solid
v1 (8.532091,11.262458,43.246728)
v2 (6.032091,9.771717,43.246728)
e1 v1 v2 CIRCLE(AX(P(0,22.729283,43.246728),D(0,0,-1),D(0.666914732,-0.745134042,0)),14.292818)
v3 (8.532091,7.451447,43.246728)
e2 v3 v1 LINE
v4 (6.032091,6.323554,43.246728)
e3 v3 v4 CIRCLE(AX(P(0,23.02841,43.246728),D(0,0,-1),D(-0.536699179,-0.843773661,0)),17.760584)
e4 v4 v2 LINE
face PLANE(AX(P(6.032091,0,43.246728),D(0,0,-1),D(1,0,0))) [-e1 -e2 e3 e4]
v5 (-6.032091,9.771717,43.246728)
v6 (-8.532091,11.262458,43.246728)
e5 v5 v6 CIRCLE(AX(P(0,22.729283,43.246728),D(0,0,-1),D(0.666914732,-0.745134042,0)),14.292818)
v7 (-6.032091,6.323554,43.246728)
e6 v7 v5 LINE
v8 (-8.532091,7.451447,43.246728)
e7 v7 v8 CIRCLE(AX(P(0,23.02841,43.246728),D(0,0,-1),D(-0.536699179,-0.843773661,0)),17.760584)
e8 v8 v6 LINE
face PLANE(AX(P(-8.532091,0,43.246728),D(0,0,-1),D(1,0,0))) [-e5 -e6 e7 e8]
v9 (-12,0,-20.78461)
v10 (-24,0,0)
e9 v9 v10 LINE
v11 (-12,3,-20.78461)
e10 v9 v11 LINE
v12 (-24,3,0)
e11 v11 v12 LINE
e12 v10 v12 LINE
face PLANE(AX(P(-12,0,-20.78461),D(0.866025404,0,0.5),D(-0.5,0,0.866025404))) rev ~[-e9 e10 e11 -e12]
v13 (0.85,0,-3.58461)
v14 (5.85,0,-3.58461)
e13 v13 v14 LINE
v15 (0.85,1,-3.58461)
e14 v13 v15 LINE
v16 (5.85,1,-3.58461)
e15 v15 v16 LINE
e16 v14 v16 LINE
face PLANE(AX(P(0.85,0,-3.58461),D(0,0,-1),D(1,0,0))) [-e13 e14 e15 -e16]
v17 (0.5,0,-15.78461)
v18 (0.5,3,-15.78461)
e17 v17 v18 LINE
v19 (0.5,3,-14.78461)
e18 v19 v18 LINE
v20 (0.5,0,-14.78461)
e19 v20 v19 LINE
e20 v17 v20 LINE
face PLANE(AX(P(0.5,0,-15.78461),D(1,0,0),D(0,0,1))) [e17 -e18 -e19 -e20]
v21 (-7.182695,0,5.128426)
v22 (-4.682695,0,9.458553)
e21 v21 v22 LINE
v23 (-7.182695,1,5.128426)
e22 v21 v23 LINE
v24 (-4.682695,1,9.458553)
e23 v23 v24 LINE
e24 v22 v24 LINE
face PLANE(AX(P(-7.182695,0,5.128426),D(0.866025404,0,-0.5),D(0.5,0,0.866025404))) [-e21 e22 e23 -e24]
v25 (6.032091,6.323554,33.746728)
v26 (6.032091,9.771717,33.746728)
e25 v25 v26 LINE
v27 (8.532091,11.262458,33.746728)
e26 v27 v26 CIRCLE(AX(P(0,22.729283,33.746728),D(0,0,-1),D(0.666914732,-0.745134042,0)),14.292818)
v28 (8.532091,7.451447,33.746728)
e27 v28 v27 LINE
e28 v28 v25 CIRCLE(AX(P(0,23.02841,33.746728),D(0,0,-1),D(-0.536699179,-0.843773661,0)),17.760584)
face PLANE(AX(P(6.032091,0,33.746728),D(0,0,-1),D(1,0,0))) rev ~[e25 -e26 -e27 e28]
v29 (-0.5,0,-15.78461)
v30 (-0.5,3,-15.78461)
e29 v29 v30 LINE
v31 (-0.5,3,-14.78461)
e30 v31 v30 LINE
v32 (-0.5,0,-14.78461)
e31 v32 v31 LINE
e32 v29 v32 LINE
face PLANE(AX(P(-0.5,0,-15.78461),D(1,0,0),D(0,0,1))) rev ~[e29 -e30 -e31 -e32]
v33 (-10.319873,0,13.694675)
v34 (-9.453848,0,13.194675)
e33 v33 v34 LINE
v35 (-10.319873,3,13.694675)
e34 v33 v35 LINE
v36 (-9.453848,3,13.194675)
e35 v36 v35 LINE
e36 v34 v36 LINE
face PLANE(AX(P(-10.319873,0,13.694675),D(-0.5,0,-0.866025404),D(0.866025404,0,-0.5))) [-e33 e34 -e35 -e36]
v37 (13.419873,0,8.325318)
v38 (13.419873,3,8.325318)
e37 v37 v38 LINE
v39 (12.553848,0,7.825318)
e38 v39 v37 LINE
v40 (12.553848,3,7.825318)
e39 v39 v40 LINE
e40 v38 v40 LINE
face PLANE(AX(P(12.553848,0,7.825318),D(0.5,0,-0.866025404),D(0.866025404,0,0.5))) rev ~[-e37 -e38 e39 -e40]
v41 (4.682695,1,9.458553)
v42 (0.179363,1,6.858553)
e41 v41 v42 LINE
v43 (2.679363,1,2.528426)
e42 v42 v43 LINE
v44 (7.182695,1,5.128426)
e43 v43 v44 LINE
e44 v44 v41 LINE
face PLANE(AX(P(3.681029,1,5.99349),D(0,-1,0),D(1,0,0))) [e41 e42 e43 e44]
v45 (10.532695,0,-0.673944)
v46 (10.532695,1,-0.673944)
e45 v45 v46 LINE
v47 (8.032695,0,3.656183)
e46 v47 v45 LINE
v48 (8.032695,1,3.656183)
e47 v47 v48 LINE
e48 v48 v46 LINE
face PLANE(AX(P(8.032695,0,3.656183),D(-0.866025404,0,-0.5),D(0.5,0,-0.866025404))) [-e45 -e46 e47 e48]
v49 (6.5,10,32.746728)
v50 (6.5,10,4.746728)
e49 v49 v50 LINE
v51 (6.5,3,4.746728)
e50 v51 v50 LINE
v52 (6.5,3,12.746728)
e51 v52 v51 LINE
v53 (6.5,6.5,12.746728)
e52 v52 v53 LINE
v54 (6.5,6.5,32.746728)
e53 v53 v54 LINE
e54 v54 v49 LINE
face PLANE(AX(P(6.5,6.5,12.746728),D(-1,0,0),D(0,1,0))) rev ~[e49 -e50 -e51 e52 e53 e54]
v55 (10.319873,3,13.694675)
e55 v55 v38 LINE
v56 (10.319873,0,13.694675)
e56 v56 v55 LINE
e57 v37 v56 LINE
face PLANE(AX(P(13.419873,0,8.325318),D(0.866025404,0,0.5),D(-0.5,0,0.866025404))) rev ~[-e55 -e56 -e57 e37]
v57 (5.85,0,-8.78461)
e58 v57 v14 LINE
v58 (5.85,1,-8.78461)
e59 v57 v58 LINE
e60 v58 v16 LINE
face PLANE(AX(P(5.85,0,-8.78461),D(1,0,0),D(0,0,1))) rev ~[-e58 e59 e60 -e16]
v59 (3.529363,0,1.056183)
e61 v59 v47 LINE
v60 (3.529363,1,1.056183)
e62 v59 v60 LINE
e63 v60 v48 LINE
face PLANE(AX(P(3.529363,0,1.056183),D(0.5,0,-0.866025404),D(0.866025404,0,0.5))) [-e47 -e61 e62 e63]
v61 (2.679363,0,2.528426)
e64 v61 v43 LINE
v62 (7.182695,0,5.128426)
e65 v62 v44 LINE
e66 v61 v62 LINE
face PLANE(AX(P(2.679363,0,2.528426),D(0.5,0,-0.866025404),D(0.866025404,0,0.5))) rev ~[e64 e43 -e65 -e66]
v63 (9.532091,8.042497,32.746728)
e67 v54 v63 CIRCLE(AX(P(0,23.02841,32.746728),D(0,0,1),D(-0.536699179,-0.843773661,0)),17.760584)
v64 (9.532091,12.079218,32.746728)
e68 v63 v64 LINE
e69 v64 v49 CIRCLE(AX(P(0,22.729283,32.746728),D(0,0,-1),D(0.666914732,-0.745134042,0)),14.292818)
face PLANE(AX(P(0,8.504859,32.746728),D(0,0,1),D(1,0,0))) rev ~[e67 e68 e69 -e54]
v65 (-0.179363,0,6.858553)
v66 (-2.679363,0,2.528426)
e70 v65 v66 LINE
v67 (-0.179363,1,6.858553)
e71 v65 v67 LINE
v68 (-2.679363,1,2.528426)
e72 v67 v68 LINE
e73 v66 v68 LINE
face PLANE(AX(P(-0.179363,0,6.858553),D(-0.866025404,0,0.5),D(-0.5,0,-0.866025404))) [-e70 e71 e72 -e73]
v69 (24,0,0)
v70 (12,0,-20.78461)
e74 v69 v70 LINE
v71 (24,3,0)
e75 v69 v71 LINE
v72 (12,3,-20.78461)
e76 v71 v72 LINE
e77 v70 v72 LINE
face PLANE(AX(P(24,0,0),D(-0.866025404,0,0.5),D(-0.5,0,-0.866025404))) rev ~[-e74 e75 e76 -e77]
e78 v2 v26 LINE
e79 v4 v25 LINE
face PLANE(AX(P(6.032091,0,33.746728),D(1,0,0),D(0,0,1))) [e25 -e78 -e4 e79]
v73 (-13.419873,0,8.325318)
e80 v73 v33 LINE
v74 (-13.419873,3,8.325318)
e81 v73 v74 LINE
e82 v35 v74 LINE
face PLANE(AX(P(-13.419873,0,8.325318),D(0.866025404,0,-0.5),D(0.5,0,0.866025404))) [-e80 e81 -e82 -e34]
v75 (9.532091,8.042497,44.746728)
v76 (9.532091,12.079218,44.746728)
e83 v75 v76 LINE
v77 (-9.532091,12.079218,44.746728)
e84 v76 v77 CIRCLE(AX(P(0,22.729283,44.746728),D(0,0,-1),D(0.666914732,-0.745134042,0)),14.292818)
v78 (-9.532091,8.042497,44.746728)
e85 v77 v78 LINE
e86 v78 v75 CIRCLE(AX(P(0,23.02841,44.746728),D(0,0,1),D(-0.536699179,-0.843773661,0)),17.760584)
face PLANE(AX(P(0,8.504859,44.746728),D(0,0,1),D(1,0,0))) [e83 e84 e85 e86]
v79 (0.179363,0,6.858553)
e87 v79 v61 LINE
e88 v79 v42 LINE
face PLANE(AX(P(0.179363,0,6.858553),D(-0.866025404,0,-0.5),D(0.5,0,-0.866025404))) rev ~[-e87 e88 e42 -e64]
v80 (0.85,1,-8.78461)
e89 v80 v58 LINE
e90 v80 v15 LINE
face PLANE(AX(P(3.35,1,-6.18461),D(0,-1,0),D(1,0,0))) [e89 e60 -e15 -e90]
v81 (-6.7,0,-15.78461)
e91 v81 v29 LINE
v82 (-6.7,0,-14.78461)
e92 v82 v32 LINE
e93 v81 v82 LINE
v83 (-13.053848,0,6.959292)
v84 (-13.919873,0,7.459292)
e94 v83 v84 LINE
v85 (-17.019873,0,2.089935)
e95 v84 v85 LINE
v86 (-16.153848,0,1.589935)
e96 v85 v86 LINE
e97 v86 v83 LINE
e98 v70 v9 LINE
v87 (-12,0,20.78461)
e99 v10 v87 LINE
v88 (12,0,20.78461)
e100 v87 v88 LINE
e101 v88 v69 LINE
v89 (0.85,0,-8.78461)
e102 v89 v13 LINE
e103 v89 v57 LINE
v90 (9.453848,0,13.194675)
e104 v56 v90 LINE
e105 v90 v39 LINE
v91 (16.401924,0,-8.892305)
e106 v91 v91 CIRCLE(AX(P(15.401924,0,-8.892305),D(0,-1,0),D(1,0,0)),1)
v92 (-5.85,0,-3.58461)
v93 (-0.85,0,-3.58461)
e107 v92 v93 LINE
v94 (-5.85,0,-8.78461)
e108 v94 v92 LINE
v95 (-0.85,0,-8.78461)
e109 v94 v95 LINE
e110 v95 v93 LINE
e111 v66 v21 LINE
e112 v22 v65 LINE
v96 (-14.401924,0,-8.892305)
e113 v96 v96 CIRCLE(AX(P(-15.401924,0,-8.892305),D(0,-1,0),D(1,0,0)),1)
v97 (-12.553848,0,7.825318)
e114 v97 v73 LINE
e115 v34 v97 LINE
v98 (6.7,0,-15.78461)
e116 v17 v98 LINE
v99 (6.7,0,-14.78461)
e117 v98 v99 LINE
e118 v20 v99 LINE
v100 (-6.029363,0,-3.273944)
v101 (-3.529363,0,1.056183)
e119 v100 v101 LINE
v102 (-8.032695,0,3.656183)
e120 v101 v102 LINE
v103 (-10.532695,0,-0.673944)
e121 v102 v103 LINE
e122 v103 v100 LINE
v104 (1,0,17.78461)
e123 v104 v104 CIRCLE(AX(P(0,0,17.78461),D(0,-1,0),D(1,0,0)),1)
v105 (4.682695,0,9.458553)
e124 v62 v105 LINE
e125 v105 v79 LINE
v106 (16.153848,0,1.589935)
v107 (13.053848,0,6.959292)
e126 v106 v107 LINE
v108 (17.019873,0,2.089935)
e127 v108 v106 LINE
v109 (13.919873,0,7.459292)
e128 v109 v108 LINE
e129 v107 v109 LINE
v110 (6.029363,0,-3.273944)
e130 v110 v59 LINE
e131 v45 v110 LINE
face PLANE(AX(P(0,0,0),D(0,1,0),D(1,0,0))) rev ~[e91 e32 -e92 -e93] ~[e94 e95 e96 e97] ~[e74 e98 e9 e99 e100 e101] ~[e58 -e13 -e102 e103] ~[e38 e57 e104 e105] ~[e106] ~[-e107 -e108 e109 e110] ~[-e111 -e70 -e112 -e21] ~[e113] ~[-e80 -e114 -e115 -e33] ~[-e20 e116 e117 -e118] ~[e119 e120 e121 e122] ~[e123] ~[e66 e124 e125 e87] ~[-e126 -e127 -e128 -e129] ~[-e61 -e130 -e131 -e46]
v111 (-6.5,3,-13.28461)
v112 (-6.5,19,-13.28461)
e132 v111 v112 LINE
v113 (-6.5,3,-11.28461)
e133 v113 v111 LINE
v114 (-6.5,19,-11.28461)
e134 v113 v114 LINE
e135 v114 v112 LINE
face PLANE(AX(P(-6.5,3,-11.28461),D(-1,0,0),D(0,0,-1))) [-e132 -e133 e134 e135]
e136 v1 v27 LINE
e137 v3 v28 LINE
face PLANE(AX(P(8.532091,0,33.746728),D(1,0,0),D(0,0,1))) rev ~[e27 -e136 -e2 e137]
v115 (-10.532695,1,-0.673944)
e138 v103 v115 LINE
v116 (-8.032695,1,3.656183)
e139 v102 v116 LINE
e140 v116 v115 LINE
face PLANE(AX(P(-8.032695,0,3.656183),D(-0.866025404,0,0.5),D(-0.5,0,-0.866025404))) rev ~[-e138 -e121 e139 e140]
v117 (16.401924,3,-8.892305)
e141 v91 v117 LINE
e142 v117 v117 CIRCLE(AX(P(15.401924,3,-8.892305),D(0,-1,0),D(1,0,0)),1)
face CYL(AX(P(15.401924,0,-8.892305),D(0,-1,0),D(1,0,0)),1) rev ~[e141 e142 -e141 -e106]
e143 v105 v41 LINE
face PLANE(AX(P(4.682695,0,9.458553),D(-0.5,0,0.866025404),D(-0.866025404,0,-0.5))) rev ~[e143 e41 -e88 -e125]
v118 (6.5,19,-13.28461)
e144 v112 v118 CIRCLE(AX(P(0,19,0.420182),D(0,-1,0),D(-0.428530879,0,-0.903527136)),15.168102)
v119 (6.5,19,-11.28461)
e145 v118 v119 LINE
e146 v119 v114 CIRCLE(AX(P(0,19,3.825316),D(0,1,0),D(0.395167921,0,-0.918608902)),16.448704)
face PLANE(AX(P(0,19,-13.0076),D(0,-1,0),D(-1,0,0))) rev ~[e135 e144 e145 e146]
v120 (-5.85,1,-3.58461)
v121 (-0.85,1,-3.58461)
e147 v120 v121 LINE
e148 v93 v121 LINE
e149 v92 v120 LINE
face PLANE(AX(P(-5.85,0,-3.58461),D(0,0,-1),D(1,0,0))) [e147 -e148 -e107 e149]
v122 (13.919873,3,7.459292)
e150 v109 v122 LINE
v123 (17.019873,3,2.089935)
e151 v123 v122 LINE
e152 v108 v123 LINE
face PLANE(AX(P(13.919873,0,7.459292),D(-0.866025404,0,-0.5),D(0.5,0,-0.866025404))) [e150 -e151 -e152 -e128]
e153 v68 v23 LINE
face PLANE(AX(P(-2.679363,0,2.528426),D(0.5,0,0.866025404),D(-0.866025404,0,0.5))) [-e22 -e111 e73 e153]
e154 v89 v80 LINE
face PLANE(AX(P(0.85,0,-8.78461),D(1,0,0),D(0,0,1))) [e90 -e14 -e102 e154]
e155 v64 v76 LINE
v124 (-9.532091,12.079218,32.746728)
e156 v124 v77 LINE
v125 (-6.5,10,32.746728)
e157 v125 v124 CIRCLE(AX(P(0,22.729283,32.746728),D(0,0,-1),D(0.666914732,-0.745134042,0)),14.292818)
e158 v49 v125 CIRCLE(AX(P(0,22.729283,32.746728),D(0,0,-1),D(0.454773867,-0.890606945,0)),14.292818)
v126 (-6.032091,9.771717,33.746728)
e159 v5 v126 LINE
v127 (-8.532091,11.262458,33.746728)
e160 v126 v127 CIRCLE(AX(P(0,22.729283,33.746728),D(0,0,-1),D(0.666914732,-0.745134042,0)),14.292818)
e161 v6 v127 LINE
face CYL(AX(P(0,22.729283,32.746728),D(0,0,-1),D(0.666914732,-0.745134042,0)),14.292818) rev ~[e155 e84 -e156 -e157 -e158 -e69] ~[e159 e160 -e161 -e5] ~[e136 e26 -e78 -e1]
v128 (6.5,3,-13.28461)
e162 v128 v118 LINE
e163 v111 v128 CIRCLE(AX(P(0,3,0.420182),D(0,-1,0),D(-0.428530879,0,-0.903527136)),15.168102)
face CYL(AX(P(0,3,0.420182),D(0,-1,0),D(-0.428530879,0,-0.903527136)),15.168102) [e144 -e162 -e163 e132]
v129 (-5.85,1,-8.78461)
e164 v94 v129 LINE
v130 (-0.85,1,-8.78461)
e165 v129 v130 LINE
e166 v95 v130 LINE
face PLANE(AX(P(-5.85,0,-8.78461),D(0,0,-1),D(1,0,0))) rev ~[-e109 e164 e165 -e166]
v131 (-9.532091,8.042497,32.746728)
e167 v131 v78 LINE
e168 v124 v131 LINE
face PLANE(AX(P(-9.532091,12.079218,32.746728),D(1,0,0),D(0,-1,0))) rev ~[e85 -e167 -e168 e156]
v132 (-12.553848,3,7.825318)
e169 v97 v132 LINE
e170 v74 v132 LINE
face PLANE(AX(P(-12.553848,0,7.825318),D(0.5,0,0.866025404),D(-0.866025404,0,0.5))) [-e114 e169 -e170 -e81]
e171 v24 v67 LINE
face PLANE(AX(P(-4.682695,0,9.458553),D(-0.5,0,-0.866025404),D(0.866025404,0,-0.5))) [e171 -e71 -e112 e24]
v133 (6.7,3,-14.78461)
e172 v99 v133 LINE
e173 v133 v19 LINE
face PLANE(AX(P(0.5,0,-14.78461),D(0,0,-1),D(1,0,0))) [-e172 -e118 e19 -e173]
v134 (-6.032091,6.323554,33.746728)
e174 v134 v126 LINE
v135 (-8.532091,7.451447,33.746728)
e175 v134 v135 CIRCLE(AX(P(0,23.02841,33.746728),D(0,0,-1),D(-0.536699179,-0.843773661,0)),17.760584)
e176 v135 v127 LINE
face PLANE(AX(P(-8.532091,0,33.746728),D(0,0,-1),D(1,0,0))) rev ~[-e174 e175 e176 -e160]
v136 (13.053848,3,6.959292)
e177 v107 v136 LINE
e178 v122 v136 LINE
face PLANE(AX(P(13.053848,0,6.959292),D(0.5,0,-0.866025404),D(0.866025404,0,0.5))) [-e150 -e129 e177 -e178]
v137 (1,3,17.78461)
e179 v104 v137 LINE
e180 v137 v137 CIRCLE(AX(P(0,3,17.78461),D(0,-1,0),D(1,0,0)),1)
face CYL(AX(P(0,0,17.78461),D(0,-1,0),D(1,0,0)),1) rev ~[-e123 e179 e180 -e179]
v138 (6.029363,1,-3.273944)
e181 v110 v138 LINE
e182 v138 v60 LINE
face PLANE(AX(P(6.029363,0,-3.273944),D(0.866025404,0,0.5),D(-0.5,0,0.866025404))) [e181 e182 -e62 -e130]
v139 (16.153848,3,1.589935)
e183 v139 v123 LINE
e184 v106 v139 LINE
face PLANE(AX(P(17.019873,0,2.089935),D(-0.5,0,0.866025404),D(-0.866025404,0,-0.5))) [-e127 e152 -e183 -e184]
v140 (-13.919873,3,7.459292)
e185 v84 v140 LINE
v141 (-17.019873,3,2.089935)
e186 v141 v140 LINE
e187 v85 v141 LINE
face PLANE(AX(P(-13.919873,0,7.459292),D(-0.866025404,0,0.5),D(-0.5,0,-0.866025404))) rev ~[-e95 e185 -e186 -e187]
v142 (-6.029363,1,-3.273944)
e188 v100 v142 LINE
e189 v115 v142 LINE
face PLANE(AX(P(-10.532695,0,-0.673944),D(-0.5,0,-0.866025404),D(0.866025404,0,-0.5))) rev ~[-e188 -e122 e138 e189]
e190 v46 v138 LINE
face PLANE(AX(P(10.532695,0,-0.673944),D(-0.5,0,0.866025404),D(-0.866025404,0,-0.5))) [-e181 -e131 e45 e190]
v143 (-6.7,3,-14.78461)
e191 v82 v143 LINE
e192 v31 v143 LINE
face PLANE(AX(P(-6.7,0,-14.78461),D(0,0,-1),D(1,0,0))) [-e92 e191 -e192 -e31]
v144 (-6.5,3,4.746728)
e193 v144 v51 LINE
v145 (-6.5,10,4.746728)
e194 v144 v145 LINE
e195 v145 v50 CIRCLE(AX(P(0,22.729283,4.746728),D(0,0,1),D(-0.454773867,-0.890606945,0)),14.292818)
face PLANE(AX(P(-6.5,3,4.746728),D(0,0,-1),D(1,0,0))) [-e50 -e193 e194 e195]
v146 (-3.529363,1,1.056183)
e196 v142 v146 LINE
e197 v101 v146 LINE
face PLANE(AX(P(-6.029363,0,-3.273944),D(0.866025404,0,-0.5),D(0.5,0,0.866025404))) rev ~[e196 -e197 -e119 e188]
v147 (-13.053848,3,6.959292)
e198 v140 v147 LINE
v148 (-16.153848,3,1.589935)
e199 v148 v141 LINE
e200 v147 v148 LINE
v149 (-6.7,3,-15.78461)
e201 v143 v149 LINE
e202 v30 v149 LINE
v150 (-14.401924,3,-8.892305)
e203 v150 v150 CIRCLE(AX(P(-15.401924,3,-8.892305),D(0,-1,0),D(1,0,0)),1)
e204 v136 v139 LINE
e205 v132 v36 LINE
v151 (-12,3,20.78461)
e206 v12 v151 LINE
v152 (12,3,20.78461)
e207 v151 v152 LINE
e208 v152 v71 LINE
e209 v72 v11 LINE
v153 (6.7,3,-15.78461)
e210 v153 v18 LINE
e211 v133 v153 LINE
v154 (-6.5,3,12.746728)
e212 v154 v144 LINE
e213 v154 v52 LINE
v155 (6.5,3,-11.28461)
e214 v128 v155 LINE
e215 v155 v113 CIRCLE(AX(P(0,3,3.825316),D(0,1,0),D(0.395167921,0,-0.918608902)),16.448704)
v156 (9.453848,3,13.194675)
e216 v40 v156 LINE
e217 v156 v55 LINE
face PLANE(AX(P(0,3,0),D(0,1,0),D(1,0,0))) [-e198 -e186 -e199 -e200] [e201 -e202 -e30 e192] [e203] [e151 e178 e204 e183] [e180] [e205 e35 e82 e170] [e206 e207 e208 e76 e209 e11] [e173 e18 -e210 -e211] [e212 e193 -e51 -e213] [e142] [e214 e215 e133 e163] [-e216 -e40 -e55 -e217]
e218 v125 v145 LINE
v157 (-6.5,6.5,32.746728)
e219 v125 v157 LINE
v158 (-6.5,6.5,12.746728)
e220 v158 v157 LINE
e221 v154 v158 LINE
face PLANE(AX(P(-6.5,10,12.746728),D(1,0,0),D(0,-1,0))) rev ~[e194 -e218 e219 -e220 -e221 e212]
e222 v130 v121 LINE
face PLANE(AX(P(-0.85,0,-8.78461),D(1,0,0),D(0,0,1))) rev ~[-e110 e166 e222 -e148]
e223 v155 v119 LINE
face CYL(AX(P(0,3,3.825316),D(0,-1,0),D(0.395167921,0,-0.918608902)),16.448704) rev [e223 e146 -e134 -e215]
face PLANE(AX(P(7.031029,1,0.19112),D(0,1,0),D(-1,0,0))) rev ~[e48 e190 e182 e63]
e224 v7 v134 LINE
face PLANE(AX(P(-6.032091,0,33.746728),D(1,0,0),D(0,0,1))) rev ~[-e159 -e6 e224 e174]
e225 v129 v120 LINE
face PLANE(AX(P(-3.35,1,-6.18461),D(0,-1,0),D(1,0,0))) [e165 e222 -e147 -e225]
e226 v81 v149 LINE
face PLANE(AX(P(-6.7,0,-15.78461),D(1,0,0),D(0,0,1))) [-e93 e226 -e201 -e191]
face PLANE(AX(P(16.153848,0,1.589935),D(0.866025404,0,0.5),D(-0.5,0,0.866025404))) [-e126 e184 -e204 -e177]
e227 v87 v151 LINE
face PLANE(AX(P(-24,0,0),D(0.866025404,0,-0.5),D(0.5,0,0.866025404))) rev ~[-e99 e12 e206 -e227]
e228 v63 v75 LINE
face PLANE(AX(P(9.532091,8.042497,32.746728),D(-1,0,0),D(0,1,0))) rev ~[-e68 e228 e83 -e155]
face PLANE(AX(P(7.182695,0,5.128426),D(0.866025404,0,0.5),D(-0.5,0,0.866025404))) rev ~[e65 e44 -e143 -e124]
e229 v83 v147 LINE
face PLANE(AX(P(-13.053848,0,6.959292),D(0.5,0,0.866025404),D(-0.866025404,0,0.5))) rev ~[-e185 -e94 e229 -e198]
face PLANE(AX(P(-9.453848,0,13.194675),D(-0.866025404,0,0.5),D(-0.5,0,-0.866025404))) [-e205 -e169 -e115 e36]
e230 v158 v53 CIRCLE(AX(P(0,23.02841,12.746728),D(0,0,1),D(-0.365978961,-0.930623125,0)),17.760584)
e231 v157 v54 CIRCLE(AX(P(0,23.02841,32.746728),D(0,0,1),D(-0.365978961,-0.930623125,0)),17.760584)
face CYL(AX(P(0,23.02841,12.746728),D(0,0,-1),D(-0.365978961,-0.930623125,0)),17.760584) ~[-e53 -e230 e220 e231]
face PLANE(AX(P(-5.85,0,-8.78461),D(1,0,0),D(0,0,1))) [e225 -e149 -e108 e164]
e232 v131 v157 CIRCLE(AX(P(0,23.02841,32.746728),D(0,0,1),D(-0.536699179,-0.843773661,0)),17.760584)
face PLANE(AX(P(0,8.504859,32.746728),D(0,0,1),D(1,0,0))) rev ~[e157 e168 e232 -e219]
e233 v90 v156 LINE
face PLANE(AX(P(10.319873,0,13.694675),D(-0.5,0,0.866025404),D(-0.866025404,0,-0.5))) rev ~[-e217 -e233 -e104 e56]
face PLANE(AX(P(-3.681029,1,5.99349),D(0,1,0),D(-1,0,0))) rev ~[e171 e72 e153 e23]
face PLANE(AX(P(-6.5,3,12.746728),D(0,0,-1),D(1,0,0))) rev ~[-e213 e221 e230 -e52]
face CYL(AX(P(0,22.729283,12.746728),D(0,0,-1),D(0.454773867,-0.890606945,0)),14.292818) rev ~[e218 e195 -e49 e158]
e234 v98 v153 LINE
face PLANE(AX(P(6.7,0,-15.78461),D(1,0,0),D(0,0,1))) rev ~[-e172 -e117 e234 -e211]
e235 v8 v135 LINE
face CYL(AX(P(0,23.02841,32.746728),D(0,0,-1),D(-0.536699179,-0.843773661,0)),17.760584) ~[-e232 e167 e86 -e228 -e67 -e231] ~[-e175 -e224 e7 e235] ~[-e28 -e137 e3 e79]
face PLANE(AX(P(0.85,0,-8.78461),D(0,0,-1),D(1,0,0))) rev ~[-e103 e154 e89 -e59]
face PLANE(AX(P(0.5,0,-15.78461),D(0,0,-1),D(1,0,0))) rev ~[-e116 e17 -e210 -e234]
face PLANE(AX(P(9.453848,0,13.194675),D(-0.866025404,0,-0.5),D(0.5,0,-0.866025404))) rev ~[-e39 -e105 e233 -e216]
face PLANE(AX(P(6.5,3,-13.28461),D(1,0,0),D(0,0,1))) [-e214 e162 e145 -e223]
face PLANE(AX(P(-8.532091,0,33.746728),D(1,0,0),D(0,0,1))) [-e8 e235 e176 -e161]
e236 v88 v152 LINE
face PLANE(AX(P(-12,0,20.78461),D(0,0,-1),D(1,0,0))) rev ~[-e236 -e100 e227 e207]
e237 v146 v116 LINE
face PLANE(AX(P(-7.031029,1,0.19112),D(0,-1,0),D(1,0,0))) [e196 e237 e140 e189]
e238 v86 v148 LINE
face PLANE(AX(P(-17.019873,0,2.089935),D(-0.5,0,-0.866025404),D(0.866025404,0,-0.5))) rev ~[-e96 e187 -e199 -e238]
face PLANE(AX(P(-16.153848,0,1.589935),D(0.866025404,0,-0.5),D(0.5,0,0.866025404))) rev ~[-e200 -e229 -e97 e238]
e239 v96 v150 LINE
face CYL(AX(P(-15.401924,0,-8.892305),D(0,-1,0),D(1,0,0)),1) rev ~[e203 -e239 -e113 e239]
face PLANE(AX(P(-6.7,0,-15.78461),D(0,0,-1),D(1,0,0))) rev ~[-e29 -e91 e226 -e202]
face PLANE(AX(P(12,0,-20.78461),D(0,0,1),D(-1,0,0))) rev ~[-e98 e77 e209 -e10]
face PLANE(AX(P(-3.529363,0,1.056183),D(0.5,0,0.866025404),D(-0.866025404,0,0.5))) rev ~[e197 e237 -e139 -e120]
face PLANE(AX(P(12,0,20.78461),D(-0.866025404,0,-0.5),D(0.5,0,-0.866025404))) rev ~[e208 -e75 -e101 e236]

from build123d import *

# Parameters (mm, degrees)
EXTRUDE_1_DEPTH     = 3
SKETCH_4_W          = 13
SKETCH_4_H          = 8
EXTRUDE_2_DEPTH     = 7
EXTRUDE_6_DEPTH     = 20
CUT_EXTRUDE_3_DEPTH = 34.531337759
EXTRUDE_7_DEPTH     = 16
SKETCH_18_W         = 6.2
SKETCH_18_H         = 1
CUT_EXTRUDE_6_DEPTH = 20
SKETCH_19_R         = 1
CUT_EXTRUDE_7_DEPTH = 3
EXTRUDE_8_DEPTH     = 12
SKETCH_24_W         = 2.5
SKETCH_24_H         = 9.5
CUT_EXTRUDE_8_DEPTH = 20
SKETCH_25_W         = 5
SKETCH_25_H         = 5.2
CUT_EXTRUDE_9_DEPTH = 1


with BuildPart() as part:
    # 草图1 → 凸台-拉伸1 (new body)
    with BuildSketch(Plane(origin=(0, 0, 0), x_dir=(1, 0, 0), z_dir=(0, 1, 0))):
        Polygon((24, 0), (12, 20.784609691), (-12, 20.784609691), (-24, 0), (-12, -20.784609691), (12, -20.784609691), align=None)
    extrude(amount=EXTRUDE_1_DEPTH)

    # 草图4 → 凸台-拉伸2 (add)
    with BuildSketch(Plane(origin=(0, 3, 0), x_dir=(1, 0, 0), z_dir=(0, 1, 0))):
        with Locations((0, -8.746728068)):
            Rectangle(SKETCH_4_W, SKETCH_4_H)
    extrude(amount=EXTRUDE_2_DEPTH)

    # 草图14 → 凸台-拉伸6 (add)
    with BuildSketch(Plane.XY.offset(12.746728068)):
        with BuildLine():
            Line((-6.5, 10), (-6.5, 6.5))
            ThreePointArc((-6.5, 6.5), (0, 5.267826192), (6.5, 6.5))
            Line((6.5, 6.5), (6.5, 10))
            ThreePointArc((6.5, 10), (0, 8.436464997), (-6.5, 10))
        make_face()
    extrude(amount=EXTRUDE_6_DEPTH)

    # 草图15 → 切除-拉伸3 (cut, through all)
    with BuildSketch(Plane.XY.offset(12.746728068)):
        with BuildLine():
            Line((6.5, 10), (-6.5, 10))
            ThreePointArc((-6.5, 10), (0, 8.436464997), (6.5, 10))
        make_face()
    extrude(amount=-CUT_EXTRUDE_3_DEPTH, mode=Mode.SUBTRACT)

    # 草图16 → 凸台-拉伸7 (add)
    with BuildSketch(Plane(origin=(0, 3, 0), x_dir=(1, 0, 0), z_dir=(0, 1, 0))):
        with BuildLine():
            Line((6.5, 13.284609691), (6.5, 11.284609691))
            ThreePointArc((6.5, 11.284609691), (0, 12.623387741), (-6.5, 11.284609691))
            Line((-6.5, 11.284609691), (-6.5, 13.284609691))
            ThreePointArc((-6.5, 13.284609691), (0, 14.747919911), (6.5, 13.284609691))
        make_face()
    extrude(amount=EXTRUDE_7_DEPTH)

    # 草图18 → 切除-拉伸6 (cut, through all)
    with BuildSketch(Plane.XZ):
        Polygon((10.319872981, 13.694675051), (9.453847577, 13.194675051), (12.553847577, 7.825317547), (13.419872981, 8.325317547), align=None)
        Polygon((13.053847577, 6.959292144), (13.919872981, 7.459292144), (17.019872981, 2.08993464), (16.153847577, 1.58993464), align=None)
        with Locations((3.6, -15.284609691)):
            Rectangle(SKETCH_18_W, SKETCH_18_H)
        with Locations((-3.6, -15.284609691)):
            Rectangle(SKETCH_18_W, SKETCH_18_H)
        Polygon((-16.153847577, 1.58993464), (-13.053847577, 6.959292144), (-13.919872981, 7.459292144), (-17.019872981, 2.08993464), align=None)
        Polygon((-12.553847577, 7.825317547), (-13.419872981, 8.325317547), (-10.319872981, 13.694675051), (-9.453847577, 13.194675051), align=None)
    extrude(amount=-CUT_EXTRUDE_6_DEPTH, mode=Mode.SUBTRACT)

    # 草图19 → 切除-拉伸7 (cut)
    with BuildSketch(Plane.XZ):
        with Locations((0, 17.784609691)):
            Circle(SKETCH_19_R)
        with Locations((15.401923789, -8.892304845)):
            Circle(SKETCH_19_R)
        with Locations((-15.401923789, -8.892304845)):
            Circle(SKETCH_19_R)
    extrude(amount=-CUT_EXTRUDE_7_DEPTH, mode=Mode.SUBTRACT)

    # 草图23 → 凸台-拉伸8 (add)
    with BuildSketch(Plane.XY.offset(32.746728068)):
        with BuildLine():
            Line((-9.532090727, 12.079217693), (-9.532090727, 8.042497168))
            ThreePointArc((-9.532090727, 8.042497168), (0, 5.267826192), (9.532090727, 8.042497168))
            Line((9.532090727, 8.042497168), (9.532090727, 12.079217693))
            ThreePointArc((9.532090727, 12.079217693), (0, 8.436464997), (-9.532090727, 12.079217693))
        make_face()
    extrude(amount=EXTRUDE_8_DEPTH)

    # 草图24 → 切除-拉伸8 (cut, through all)
    with BuildSketch(Plane.XZ):
        with Locations((-7.282090727, 38.496728068)):
            Rectangle(SKETCH_24_W, SKETCH_24_H)
        with Locations((7.282090727, 38.496728068)):
            Rectangle(SKETCH_24_W, SKETCH_24_H)
    extrude(amount=-CUT_EXTRUDE_8_DEPTH, mode=Mode.SUBTRACT)

    # 草图25 → 切除-拉伸9 (cut)
    with BuildSketch(Plane.XZ):
        Polygon((-10.532695155, -0.673943767), (-6.029363055, -3.273943767), (-3.529363055, 1.056183252), (-8.032695155, 3.656183252), align=None)
        Polygon((-7.182695155, 5.128426439), (-4.682695155, 9.458553458), (-0.179363055, 6.858553458), (-2.679363055, 2.528426439), align=None)
        Polygon((6.029363055, -3.273943767), (3.529363055, 1.056183252), (8.032695155, 3.656183252), (10.532695155, -0.673943767), align=None)
        Polygon((0.179363055, 6.858553458), (2.679363055, 2.528426439), (7.182695155, 5.128426439), (4.682695155, 9.458553458), align=None)
        with Locations((-3.35, -6.184609691)):
            Rectangle(SKETCH_25_W, SKETCH_25_H)
        with Locations((3.35, -6.184609691)):
            Rectangle(SKETCH_25_W, SKETCH_25_H)
    extrude(amount=-CUT_EXTRUDE_9_DEPTH, mode=Mode.SUBTRACT)


solid = part.part
